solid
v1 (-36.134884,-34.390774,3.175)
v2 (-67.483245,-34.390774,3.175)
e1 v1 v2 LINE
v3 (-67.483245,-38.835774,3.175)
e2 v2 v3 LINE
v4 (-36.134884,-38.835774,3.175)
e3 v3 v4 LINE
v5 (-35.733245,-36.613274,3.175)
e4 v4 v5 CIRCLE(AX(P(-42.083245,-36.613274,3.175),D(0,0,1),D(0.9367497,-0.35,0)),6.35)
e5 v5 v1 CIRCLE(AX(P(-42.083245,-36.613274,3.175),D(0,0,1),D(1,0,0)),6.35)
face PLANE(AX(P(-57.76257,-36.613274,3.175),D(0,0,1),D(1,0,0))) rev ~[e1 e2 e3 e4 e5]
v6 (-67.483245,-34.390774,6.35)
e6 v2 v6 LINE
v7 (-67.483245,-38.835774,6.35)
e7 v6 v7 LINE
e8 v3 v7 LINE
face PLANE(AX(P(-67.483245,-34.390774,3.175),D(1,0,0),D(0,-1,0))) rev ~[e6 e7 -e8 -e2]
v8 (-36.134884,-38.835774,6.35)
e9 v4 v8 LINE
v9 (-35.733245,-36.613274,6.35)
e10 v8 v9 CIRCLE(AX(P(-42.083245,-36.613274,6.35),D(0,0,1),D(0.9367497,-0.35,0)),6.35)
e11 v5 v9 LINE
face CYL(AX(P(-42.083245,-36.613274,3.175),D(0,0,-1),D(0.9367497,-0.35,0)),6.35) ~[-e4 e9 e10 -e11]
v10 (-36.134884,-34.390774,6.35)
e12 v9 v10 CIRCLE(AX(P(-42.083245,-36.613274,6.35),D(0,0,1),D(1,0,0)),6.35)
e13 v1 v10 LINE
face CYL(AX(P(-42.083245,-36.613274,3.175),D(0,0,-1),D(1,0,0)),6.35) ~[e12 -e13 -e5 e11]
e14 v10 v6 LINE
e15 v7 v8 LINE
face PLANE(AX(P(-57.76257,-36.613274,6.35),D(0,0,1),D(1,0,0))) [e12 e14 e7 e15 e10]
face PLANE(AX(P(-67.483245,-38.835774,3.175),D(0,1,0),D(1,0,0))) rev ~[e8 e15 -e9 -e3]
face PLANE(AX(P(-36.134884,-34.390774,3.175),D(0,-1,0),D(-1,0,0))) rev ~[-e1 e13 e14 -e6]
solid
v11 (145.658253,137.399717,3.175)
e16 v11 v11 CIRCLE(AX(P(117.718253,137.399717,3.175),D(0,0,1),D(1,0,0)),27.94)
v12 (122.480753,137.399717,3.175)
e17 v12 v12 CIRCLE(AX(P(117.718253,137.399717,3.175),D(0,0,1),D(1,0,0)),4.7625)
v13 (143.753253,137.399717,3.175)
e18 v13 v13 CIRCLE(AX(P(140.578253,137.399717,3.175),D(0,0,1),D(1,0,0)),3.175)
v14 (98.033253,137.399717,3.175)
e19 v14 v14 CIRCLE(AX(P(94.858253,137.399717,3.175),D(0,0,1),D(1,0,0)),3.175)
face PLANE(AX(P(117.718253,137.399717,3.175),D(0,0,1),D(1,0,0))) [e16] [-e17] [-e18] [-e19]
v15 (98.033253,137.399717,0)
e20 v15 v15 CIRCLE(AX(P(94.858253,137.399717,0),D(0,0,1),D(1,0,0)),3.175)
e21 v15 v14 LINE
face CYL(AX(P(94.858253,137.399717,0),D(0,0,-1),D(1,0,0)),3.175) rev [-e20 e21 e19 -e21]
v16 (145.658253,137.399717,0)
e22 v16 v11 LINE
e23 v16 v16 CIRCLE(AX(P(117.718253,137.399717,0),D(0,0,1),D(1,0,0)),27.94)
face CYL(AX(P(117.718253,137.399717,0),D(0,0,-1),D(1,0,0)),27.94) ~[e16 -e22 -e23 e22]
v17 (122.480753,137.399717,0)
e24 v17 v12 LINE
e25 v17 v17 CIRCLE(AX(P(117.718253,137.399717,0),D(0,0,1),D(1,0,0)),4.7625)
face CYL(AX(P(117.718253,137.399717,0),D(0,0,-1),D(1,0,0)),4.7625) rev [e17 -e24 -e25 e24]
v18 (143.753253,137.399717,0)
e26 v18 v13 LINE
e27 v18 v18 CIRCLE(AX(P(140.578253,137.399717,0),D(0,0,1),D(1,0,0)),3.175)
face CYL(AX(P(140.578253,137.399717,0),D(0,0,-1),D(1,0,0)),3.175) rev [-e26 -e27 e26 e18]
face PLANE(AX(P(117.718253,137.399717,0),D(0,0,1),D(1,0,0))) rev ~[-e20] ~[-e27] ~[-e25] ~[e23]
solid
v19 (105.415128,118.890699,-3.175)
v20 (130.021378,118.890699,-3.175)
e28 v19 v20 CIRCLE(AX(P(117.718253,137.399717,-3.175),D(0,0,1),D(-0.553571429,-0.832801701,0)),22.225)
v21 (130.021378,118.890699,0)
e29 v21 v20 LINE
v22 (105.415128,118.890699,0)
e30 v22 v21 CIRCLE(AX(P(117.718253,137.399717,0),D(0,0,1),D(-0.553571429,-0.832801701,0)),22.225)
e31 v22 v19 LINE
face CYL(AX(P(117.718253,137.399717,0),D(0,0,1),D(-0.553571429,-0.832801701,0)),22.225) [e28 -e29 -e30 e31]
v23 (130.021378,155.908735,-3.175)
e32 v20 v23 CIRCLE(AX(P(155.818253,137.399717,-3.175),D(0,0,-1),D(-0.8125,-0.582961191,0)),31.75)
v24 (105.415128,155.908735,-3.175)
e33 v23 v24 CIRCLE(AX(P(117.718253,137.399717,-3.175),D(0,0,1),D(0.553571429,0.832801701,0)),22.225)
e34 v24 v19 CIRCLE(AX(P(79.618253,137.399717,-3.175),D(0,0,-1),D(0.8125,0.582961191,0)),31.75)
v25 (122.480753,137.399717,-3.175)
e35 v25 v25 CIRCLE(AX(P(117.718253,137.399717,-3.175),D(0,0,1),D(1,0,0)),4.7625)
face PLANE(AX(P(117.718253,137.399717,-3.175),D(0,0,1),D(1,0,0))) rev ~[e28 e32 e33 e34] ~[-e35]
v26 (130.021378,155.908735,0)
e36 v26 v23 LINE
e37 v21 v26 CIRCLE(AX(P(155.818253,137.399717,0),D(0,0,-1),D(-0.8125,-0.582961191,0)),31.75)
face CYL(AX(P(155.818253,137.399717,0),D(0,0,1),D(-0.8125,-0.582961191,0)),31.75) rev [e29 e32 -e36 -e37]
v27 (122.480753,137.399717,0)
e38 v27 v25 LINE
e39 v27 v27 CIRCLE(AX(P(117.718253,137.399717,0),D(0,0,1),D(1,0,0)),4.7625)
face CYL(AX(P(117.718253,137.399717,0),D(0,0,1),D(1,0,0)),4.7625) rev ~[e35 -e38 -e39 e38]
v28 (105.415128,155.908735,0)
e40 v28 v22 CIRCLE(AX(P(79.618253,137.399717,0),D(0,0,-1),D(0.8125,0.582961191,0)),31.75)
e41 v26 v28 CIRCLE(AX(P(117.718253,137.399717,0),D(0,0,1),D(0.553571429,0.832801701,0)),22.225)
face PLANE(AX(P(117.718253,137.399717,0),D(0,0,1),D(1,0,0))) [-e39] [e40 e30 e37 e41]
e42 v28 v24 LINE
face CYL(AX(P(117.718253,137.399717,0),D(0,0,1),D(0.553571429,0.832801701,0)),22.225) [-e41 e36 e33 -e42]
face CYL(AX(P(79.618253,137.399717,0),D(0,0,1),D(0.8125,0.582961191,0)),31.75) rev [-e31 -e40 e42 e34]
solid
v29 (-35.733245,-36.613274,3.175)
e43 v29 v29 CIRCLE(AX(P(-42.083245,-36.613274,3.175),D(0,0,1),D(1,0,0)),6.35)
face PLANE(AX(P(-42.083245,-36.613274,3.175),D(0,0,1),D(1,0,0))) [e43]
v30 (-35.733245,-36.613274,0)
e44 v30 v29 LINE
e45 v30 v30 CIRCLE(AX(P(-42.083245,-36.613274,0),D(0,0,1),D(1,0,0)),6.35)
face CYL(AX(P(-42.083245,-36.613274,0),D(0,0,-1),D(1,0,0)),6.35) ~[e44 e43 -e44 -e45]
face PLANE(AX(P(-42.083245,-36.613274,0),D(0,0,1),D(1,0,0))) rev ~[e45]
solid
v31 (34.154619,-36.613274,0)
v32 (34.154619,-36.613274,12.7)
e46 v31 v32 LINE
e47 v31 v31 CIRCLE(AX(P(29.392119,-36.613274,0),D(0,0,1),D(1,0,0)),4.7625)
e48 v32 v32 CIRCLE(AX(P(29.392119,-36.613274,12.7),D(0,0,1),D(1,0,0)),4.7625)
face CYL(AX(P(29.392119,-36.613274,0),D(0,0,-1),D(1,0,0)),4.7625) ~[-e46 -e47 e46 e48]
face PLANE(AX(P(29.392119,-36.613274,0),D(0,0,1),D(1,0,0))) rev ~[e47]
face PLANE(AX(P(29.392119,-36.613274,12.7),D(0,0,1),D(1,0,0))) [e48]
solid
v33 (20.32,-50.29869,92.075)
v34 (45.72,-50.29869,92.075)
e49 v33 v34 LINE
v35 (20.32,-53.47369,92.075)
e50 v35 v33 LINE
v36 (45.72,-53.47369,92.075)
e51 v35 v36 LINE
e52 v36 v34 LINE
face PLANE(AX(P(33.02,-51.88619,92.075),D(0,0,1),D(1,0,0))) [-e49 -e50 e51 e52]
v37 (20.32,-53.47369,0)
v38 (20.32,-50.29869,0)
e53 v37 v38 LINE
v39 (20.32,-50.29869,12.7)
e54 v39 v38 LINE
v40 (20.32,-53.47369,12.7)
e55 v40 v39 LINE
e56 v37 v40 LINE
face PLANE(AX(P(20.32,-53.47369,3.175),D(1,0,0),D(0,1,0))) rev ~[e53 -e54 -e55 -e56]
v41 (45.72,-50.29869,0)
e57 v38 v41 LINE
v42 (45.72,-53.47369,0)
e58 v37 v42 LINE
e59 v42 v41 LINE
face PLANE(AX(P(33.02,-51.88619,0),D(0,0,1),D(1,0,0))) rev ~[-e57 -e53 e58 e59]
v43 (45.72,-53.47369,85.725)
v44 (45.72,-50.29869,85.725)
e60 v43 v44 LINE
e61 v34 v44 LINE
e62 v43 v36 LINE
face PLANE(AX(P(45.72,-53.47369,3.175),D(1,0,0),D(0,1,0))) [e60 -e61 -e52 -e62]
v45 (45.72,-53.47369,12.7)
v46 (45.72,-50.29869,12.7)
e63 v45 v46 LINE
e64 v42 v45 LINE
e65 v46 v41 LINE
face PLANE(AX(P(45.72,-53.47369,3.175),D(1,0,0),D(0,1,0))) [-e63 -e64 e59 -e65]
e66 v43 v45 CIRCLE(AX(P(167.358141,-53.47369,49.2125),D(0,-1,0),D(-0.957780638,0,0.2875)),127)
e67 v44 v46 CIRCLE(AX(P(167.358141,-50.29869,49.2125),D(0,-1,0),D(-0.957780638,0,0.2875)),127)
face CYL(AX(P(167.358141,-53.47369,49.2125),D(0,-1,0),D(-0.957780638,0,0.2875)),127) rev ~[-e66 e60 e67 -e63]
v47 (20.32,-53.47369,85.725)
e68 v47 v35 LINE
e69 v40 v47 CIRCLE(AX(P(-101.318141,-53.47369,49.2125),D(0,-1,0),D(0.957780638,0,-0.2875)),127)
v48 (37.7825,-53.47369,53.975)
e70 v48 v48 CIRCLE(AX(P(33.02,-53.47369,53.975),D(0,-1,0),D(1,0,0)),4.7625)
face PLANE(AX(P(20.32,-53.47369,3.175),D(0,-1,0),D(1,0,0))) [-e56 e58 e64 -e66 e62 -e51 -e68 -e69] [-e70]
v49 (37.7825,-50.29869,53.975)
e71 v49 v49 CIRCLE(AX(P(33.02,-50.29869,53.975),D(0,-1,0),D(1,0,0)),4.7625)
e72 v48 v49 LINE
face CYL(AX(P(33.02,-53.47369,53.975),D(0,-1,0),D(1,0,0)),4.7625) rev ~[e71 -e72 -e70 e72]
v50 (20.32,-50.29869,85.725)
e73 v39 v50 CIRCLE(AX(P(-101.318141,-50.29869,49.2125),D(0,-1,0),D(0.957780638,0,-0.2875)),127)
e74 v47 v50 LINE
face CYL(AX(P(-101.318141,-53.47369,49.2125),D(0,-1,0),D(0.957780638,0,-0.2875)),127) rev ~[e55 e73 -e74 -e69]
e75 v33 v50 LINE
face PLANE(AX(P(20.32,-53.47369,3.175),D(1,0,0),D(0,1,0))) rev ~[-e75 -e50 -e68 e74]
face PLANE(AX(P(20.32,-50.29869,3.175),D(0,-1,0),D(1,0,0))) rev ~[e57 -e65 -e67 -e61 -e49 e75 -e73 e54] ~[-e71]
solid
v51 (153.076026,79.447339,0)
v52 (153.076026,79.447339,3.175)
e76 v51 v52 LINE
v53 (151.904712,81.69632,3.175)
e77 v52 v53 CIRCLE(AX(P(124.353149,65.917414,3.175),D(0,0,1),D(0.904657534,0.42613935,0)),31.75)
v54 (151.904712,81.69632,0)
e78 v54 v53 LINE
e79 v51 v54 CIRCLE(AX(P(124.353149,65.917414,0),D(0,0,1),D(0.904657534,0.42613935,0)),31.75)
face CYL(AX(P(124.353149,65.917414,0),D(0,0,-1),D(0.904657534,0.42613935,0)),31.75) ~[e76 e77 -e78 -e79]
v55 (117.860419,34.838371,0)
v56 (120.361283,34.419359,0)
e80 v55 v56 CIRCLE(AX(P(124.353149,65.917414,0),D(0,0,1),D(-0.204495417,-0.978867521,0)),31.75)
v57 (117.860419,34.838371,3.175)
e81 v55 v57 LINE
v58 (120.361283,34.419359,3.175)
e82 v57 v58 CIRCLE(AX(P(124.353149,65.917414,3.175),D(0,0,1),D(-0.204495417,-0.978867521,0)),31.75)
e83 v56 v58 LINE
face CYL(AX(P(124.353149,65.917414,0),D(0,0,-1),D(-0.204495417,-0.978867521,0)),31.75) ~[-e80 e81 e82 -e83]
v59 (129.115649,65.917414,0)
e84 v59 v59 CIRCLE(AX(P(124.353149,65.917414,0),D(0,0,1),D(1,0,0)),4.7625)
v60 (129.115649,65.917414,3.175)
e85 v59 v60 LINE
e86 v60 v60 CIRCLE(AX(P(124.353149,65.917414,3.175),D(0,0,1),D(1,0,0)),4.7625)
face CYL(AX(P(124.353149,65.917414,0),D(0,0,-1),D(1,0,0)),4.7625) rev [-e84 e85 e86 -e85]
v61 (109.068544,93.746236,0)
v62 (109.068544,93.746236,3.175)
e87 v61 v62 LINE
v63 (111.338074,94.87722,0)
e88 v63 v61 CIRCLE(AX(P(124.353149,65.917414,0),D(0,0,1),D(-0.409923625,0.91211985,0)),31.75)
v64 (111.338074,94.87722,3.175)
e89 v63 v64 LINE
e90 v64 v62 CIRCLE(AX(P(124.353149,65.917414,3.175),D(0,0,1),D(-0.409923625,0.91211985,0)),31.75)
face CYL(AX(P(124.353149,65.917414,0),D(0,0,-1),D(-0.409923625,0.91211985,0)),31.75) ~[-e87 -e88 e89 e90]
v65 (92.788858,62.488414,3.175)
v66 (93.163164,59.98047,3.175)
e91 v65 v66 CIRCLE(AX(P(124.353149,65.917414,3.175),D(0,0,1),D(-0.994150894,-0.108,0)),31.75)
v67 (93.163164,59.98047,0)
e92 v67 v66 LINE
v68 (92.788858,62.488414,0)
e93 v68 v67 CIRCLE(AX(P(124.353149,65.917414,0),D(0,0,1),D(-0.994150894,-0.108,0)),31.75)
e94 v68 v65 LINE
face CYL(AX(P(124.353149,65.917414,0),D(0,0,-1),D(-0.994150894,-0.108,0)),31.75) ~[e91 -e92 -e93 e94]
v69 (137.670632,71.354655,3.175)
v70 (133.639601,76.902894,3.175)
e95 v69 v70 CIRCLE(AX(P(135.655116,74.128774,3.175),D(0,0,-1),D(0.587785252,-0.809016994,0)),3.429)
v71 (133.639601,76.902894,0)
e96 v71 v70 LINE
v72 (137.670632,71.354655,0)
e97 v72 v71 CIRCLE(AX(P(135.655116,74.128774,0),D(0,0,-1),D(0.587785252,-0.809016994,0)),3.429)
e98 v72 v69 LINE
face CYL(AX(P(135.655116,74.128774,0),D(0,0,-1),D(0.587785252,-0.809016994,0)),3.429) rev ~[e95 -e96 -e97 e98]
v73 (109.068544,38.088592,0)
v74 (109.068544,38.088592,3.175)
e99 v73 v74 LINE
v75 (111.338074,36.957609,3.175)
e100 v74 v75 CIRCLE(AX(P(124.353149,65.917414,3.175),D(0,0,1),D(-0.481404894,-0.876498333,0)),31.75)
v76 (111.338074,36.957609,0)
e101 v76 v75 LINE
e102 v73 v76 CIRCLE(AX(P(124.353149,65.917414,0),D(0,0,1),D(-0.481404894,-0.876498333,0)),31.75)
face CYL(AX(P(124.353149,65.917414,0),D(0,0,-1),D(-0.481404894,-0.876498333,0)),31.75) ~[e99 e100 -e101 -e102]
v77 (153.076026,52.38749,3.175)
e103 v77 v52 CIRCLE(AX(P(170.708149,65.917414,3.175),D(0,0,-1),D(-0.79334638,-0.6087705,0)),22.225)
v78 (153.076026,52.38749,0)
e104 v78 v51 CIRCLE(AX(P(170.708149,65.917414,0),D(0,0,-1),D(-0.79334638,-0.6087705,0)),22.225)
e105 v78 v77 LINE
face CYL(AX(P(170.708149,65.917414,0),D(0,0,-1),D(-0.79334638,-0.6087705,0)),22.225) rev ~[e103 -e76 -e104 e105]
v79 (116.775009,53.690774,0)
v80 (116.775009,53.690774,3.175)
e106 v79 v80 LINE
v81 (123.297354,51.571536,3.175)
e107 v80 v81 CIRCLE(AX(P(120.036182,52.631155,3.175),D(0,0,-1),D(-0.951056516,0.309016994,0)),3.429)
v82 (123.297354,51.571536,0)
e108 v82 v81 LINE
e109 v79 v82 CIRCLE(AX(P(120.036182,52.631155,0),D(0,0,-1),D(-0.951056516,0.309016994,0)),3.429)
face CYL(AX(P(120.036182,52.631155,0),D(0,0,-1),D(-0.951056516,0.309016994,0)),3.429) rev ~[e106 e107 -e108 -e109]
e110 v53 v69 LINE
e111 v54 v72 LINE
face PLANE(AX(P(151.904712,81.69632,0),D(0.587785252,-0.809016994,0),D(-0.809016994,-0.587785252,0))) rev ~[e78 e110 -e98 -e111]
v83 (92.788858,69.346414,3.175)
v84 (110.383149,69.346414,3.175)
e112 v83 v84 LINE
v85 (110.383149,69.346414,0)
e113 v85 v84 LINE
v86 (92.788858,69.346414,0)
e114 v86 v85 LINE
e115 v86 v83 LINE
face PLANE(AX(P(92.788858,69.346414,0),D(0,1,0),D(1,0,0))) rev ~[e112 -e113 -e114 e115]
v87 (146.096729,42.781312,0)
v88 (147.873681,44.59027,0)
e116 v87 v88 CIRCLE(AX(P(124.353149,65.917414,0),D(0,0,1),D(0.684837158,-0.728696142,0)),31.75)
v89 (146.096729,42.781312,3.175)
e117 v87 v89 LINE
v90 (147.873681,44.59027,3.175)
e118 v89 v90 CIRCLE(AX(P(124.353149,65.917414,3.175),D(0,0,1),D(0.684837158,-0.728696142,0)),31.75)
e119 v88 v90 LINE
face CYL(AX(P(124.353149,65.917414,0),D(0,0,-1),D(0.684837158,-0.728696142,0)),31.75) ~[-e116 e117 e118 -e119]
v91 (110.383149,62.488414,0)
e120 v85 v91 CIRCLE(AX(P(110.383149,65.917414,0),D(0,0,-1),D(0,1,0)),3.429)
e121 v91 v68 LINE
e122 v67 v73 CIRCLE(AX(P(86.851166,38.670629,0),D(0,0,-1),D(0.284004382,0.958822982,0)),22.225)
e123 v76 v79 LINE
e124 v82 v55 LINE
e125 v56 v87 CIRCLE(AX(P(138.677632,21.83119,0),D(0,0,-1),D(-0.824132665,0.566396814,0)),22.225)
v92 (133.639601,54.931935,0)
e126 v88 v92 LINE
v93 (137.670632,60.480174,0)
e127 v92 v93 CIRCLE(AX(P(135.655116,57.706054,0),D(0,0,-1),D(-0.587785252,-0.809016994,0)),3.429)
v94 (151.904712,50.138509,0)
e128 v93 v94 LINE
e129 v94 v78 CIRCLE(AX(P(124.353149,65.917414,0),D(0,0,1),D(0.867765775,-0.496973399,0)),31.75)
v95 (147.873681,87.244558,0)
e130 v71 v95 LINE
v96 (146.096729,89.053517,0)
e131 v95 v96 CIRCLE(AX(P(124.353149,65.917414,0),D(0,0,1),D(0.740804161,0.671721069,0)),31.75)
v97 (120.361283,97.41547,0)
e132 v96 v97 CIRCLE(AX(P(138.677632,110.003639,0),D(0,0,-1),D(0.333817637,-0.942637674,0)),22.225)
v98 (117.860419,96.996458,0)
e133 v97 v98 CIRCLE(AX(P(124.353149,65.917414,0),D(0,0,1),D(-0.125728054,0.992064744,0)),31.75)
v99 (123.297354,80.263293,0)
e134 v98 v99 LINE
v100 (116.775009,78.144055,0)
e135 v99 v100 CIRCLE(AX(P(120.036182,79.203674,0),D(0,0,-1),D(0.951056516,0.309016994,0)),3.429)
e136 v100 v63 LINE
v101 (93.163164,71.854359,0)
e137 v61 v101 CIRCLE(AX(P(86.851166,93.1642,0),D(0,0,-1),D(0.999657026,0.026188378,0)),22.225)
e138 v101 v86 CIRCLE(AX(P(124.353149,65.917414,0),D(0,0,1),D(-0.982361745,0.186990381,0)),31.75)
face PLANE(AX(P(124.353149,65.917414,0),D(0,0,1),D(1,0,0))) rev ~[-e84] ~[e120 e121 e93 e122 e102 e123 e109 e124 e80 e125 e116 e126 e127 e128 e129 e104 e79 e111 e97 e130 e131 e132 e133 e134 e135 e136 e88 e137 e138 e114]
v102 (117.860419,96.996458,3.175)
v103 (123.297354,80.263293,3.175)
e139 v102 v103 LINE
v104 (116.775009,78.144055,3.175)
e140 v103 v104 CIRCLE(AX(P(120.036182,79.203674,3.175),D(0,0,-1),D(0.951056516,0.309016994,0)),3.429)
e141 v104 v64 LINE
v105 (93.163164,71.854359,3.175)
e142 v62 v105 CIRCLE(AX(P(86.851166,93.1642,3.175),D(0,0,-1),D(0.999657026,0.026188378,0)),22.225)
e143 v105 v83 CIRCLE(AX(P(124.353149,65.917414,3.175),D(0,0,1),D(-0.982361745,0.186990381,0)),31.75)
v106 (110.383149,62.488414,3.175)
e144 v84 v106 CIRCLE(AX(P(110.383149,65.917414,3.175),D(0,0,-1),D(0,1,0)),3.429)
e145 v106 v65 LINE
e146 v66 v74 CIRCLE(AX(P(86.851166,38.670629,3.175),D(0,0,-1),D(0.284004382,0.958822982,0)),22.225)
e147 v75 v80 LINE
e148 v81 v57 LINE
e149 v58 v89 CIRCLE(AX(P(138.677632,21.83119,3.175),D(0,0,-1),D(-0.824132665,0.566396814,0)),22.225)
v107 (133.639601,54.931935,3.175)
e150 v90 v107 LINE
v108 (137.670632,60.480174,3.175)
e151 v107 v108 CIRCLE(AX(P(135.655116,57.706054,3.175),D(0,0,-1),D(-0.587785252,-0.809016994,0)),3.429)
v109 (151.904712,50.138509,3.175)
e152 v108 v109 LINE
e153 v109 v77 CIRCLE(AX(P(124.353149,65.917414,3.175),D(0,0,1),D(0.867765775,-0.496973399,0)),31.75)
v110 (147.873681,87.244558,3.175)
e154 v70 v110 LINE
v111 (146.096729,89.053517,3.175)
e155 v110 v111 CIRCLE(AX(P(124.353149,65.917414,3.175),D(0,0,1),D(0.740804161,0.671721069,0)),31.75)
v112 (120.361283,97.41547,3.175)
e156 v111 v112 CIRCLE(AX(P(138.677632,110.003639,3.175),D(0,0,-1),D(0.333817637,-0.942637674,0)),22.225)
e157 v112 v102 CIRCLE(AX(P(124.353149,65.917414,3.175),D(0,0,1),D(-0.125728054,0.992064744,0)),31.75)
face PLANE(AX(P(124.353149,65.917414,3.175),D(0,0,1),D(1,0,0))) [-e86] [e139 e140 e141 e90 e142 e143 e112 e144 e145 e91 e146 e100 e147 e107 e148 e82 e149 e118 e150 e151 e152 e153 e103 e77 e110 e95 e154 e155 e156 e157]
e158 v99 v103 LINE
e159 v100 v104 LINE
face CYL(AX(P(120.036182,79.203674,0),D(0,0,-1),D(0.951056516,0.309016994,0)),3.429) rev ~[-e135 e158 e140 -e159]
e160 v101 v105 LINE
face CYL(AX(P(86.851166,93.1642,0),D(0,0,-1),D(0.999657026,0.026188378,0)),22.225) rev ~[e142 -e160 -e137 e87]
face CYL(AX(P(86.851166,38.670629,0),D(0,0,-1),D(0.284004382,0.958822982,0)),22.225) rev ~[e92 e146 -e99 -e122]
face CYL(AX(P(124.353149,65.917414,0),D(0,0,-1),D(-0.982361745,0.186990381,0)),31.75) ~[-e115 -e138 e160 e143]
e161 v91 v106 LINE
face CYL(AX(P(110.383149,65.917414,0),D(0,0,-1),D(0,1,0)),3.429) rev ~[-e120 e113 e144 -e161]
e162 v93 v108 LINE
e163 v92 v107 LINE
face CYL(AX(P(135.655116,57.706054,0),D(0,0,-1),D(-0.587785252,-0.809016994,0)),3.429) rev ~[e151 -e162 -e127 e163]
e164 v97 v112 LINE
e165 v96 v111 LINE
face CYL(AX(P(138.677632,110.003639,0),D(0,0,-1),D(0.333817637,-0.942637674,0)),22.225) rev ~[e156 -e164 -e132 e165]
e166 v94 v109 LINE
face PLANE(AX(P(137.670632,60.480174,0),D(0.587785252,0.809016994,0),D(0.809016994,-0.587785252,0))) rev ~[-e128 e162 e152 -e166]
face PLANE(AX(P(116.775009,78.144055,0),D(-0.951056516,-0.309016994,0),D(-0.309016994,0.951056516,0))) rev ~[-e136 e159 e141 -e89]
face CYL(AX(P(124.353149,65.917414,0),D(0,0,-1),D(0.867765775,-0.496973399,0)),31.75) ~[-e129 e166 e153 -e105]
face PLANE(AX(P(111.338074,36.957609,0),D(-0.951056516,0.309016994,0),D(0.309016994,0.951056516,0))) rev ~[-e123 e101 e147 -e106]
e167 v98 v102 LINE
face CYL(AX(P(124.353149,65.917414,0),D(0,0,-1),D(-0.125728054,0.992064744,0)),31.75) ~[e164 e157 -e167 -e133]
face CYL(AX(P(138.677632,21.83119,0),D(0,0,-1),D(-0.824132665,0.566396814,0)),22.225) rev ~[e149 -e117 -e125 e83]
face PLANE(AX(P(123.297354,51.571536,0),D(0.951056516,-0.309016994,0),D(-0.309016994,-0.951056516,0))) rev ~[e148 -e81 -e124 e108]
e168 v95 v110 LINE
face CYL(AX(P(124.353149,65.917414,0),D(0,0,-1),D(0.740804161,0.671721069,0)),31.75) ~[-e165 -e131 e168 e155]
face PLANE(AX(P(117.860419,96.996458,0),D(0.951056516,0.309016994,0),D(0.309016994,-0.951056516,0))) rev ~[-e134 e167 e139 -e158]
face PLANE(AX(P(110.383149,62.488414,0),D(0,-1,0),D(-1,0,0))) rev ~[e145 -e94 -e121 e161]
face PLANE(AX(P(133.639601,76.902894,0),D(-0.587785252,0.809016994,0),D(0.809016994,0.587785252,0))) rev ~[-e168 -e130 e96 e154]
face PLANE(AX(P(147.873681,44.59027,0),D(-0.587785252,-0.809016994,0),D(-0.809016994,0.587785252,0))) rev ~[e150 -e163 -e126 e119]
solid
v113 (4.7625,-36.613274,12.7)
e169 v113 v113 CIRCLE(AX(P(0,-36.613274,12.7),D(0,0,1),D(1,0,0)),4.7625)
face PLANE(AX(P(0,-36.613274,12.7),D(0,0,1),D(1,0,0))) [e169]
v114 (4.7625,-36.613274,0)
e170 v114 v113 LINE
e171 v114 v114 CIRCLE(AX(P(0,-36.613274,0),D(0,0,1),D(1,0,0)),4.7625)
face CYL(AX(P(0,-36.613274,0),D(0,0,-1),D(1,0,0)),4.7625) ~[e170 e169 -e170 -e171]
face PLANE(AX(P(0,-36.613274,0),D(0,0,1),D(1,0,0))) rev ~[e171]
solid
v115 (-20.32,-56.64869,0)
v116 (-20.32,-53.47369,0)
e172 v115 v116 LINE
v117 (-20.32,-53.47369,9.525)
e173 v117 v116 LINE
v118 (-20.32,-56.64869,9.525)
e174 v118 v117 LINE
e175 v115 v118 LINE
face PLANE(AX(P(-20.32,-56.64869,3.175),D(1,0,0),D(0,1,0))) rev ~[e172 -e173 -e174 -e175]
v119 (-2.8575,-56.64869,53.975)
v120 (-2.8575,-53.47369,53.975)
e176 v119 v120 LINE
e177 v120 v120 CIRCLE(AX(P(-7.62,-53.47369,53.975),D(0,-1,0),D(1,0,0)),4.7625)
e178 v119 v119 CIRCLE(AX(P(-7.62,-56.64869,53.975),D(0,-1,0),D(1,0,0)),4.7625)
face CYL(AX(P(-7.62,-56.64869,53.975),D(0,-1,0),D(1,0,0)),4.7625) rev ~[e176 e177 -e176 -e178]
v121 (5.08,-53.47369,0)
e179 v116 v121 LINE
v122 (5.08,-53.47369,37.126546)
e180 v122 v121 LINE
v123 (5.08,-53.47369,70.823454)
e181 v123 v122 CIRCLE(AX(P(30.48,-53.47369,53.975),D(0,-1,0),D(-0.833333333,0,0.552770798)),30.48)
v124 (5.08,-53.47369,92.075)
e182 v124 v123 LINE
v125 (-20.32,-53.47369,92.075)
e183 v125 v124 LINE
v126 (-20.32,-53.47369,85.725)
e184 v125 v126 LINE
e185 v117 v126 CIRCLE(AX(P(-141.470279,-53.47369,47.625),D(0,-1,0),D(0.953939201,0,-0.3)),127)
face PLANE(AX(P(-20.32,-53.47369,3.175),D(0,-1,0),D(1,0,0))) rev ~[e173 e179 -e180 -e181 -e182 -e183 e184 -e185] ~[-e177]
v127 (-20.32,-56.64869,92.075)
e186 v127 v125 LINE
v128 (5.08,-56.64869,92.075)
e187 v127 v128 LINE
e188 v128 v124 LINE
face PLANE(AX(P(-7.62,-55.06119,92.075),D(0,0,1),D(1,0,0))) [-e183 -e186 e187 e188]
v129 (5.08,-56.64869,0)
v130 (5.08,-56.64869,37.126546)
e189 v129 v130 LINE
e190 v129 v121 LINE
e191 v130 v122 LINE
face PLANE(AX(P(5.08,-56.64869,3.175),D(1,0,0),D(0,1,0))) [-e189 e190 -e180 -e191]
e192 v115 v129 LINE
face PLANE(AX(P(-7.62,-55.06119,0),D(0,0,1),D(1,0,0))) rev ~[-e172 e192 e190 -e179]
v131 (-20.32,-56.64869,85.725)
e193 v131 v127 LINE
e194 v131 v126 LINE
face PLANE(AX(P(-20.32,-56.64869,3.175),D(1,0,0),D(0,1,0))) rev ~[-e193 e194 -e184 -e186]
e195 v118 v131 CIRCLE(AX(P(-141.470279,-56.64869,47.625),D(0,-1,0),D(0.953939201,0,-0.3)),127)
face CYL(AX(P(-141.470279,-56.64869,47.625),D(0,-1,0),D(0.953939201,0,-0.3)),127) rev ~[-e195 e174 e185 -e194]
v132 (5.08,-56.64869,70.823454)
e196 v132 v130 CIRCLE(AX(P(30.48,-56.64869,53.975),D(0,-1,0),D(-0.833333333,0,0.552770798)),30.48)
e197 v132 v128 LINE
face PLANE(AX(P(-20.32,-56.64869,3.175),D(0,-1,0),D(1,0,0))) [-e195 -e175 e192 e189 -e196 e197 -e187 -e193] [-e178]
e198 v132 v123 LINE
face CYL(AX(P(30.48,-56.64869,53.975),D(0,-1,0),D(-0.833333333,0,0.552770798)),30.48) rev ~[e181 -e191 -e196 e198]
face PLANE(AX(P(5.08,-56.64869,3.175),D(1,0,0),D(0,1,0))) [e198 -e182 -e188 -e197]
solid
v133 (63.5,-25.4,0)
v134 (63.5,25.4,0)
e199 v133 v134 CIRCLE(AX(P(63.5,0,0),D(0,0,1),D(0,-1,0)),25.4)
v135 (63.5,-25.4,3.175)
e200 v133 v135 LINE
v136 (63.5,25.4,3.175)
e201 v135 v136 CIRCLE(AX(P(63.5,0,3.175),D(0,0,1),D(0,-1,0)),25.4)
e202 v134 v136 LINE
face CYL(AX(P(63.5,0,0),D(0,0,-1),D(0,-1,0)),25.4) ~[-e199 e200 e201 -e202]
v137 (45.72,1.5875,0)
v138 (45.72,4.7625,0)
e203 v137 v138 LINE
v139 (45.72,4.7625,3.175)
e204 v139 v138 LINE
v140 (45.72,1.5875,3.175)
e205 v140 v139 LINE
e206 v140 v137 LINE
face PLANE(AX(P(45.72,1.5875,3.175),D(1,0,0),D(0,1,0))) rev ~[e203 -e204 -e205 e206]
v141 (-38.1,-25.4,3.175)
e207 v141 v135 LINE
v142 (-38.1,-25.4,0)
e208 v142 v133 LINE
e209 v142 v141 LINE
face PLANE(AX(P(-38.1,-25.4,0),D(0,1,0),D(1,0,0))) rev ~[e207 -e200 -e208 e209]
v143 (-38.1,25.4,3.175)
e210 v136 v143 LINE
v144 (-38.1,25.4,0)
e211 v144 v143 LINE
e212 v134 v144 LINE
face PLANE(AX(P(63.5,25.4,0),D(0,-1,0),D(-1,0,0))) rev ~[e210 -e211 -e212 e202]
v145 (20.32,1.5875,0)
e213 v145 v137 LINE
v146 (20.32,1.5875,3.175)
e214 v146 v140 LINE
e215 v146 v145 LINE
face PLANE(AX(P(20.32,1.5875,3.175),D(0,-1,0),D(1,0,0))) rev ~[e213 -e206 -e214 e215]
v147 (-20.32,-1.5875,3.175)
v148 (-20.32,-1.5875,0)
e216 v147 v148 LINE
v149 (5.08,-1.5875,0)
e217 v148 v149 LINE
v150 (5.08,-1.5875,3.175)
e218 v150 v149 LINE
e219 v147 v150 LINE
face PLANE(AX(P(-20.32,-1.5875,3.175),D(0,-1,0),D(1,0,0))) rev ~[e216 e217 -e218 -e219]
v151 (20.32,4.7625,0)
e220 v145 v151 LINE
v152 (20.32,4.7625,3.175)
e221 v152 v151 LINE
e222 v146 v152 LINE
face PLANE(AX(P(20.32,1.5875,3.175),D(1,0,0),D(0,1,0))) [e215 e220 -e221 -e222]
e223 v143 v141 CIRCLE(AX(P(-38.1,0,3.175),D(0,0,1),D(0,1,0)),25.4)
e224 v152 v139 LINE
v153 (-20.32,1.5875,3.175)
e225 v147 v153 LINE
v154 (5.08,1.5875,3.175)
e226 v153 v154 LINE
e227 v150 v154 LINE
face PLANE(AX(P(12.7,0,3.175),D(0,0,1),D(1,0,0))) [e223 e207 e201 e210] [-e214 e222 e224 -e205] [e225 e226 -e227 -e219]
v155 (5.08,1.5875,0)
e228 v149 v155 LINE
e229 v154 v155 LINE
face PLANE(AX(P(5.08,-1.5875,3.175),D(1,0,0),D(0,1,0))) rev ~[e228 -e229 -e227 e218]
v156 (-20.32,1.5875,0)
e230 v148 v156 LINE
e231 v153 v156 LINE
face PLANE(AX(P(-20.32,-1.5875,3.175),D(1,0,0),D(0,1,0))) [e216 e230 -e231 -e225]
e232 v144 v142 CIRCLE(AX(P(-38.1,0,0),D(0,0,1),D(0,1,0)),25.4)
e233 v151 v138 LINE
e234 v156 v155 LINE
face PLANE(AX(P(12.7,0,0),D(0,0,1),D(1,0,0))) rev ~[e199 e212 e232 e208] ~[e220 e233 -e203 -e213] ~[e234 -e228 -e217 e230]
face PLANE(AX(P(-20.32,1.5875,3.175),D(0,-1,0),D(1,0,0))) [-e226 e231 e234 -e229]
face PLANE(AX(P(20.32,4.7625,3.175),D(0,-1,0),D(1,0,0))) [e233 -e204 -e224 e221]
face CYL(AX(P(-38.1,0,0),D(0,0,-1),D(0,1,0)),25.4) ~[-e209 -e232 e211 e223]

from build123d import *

# Parameters (mm, degrees)
F1_DEPTH  = 3.175
F2_R      = 4.7625
F4_DEPTH  = 3.175
F5_DEPTH  = 3.175
F2_R_2    = 27.94
F2_R_3    = 3.175
F6_DEPTH  = 3.175
F8_DEPTH  = 3.175
F7_W      = 25.4
F7_H      = 3.175
F9_DEPTH  = 3.175
F10_DEPTH = 3.175
F11_DEPTH = 88.9
F13_DEPTH = 3.175
F14_DEPTH = 3.175
F16_DEPTH = 3.175
F17_DEPTH = 3.175
F12_R     = 4.7625
F18_DEPTH = 3.175
F15_R     = 4.7625
F19_DEPTH = 3.175
F20_DEPTH = 3.175
F21_R     = 4.7625
F22_DEPTH = 12.7
F21_R_2   = 6.35
F23_DEPTH = 3.175
F25_DEPTH = 3.175
F26_DEPTH = 12.7


with BuildPart() as f1:
    # F0 (on Top) → F1 (new body)
    with BuildSketch(Plane.XY):
        with BuildLine():
            Line((63.5, 25.4), (-38.1, 25.4))
            ThreePointArc((-38.1, 25.4), (-63.5, 0), (-38.1, -25.4))
            Line((-38.1, -25.4), (63.5, -25.4))
            ThreePointArc((63.5, -25.4), (88.9, 0), (63.5, 25.4))
        make_face()
    extrude(amount=F1_DEPTH)

    # F7 (on face) → F9 (cut)
    with BuildSketch(Plane.XY.offset(3.175)):
        with Locations((-7.62, 0)):
            Rectangle(F7_W, F7_H)
    extrude(amount=-F9_DEPTH, mode=Mode.SUBTRACT)

    # F7 (on face) → F10 (cut)
    with BuildSketch(Plane.XY.offset(3.175)):
        with Locations((33.02, 3.175)):
            Rectangle(F7_W, F7_H)
    extrude(amount=-F10_DEPTH, mode=Mode.SUBTRACT)


with BuildPart() as f4:
    # F2 (on Top) → F4 (new body)
    with BuildSketch(Plane.XY):
        with BuildLine():
            ThreePointArc((120.3612832322, 34.4193587213), (131.809729009, 42.968420609), (146.0967287001, 42.7813118451))
            ThreePointArc((146.0967287001, 42.7813118451), (147.0032712022, 43.6680444399), (147.873681045, 44.5902703929))
            Line((147.873681045, 44.5902703929), (133.639600716, 54.9319350989))
            ThreePointArc((133.639600716, 54.9319350989), (132.8809970724, 59.7215700028), (137.6706319762, 60.4801736464))
            Line((137.6706319762, 60.4801736464), (151.9047123053, 50.1385089403))
            ThreePointArc((151.9047123053, 50.1385089403), (152.5128298738, 51.2513013853), (153.076025647, 52.3874899805))
            ThreePointArc((153.076025647, 52.3874899805), (148.4831489347, 65.9174143472), (153.076025647, 79.4473387139))
            ThreePointArc((153.076025647, 79.4473387139), (152.5128298738, 80.583527309), (151.9047123053, 81.6963197541))
            Line((151.9047123053, 81.6963197541), (137.6706319762, 71.354655048))
            ThreePointArc((137.6706319762, 71.354655048), (132.8809970724, 72.1132586916), (133.639600716, 76.9028935954))
            Line((133.639600716, 76.9028935954), (147.873681045, 87.2445583015))
            ThreePointArc((147.873681045, 87.2445583015), (147.0032712022, 88.1667842544), (146.0967287001, 89.0535168493))
            ThreePointArc((146.0967287001, 89.0535168493), (131.809729009, 88.8664080854), (120.3612832322, 97.4154699731))
            ThreePointArc((120.3612832322, 97.4154699731), (119.1066666, 97.2309405477), (117.8604194306, 96.9964581482))
            Line((117.8604194306, 96.9964581482), (123.2973543177, 80.2632931535))
            ThreePointArc((123.2973543177, 80.2632931535), (121.095800797, 75.9425010854), (116.7750087289, 78.1440546061))
            Line((116.7750087289, 78.1440546061), (111.3380738418, 94.8772196008))
            ThreePointArc((111.3380738418, 94.8772196008), (110.1920134063, 94.33439414), (109.0685435545, 93.7462364274))
            ThreePointArc((109.0685435545, 93.7462364274), (104.8315688605, 80.100672485), (93.1631635397, 71.8543589368))
            ThreePointArc((93.1631635397, 71.8543589368), (92.9509635914, 70.6041248848), (92.7888580509, 69.3464143472))
            Line((92.7888580509, 69.3464143472), (110.3831489347, 69.3464143472))
            ThreePointArc((110.3831489347, 69.3464143472), (113.8121489347, 65.9174143472), (110.3831489347, 62.4884143472))
            Line((110.3831489347, 62.4884143472), (92.7888580509, 62.4884143472))
            ThreePointArc((92.7888580509, 62.4884143472), (92.9509635914, 61.2307038095), (93.1631635397, 59.9804697575))
            ThreePointArc((93.1631635397, 59.9804697575), (104.8315688605, 51.7341562094), (109.0685435545, 38.088592267))
            ThreePointArc((109.0685435545, 38.088592267), (110.1920134063, 37.5004345544), (111.3380738418, 36.9576090936))
            Line((111.3380738418, 36.9576090936), (116.7750087289, 53.6907740882))
            ThreePointArc((116.7750087289, 53.6907740882), (121.095800797, 55.8923276089), (123.2973543177, 51.5715355408))
            Line((123.2973543177, 51.5715355408), (117.8604194306, 34.8383705461))
            ThreePointArc((117.8604194306, 34.8383705461), (119.1066666, 34.6038881466), (120.3612832322, 34.4193587213))
        make_face()
        with Locations((124.3531489347, 65.9174143472)):
            Circle(F2_R, mode=Mode.SUBTRACT)
    extrude(amount=F4_DEPTH)

    # F2 (on Top) → F8 (join)
    with BuildSketch(Plane.XY):
        with BuildLine():
            ThreePointArc((120.3612832322, 34.4193587213), (131.809729009, 42.968420609), (146.0967287001, 42.7813118451))
            ThreePointArc((146.0967287001, 42.7813118451), (147.0032712022, 43.6680444399), (147.873681045, 44.5902703929))
            Line((147.873681045, 44.5902703929), (133.639600716, 54.9319350989))
            ThreePointArc((133.639600716, 54.9319350989), (132.8809970724, 59.7215700028), (137.6706319762, 60.4801736464))
            Line((137.6706319762, 60.4801736464), (151.9047123053, 50.1385089403))
            ThreePointArc((151.9047123053, 50.1385089403), (152.5128298738, 51.2513013853), (153.076025647, 52.3874899805))
            ThreePointArc((153.076025647, 52.3874899805), (148.4831489347, 65.9174143472), (153.076025647, 79.4473387139))
            ThreePointArc((153.076025647, 79.4473387139), (152.5128298738, 80.583527309), (151.9047123053, 81.6963197541))
            Line((151.9047123053, 81.6963197541), (137.6706319762, 71.354655048))
            ThreePointArc((137.6706319762, 71.354655048), (132.8809970724, 72.1132586916), (133.639600716, 76.9028935954))
            Line((133.639600716, 76.9028935954), (147.873681045, 87.2445583015))
            ThreePointArc((147.873681045, 87.2445583015), (147.0032712022, 88.1667842544), (146.0967287001, 89.0535168493))
            ThreePointArc((146.0967287001, 89.0535168493), (131.809729009, 88.8664080854), (120.3612832322, 97.4154699731))
            ThreePointArc((120.3612832322, 97.4154699731), (119.1066666, 97.2309405477), (117.8604194306, 96.9964581482))
            Line((117.8604194306, 96.9964581482), (123.2973543177, 80.2632931535))
            ThreePointArc((123.2973543177, 80.2632931535), (121.095800797, 75.9425010854), (116.7750087289, 78.1440546061))
            Line((116.7750087289, 78.1440546061), (111.3380738418, 94.8772196008))
            ThreePointArc((111.3380738418, 94.8772196008), (110.1920134063, 94.33439414), (109.0685435545, 93.7462364274))
            ThreePointArc((109.0685435545, 93.7462364274), (104.8315688605, 80.100672485), (93.1631635397, 71.8543589368))
            ThreePointArc((93.1631635397, 71.8543589368), (92.9509635914, 70.6041248848), (92.7888580509, 69.3464143472))
            Line((92.7888580509, 69.3464143472), (110.3831489347, 69.3464143472))
            ThreePointArc((110.3831489347, 69.3464143472), (113.8121489347, 65.9174143472), (110.3831489347, 62.4884143472))
            Line((110.3831489347, 62.4884143472), (92.7888580509, 62.4884143472))
            ThreePointArc((92.7888580509, 62.4884143472), (92.9509635914, 61.2307038095), (93.1631635397, 59.9804697575))
            ThreePointArc((93.1631635397, 59.9804697575), (104.8315688605, 51.7341562094), (109.0685435545, 38.088592267))
            ThreePointArc((109.0685435545, 38.088592267), (110.1920134063, 37.5004345544), (111.3380738418, 36.9576090936))
            Line((111.3380738418, 36.9576090936), (116.7750087289, 53.6907740882))
            ThreePointArc((116.7750087289, 53.6907740882), (121.095800797, 55.8923276089), (123.2973543177, 51.5715355408))
            Line((123.2973543177, 51.5715355408), (117.8604194306, 34.8383705461))
            ThreePointArc((117.8604194306, 34.8383705461), (119.1066666, 34.6038881466), (120.3612832322, 34.4193587213))
        make_face()
        with Locations((124.3531489347, 65.9174143472)):
            Circle(F2_R, mode=Mode.SUBTRACT)
    extrude(amount=F8_DEPTH)


with BuildPart() as f5:
    # F2 (on Top) → F5 (new body)
    with BuildSketch(Plane.XY):
        with BuildLine():
            ThreePointArc((130.021378454, 118.8906994246), (124.068253454, 137.399717233), (130.021378454, 155.9087350415))
            ThreePointArc((130.021378454, 155.9087350415), (117.718253454, 159.624717233), (105.415128454, 155.9087350415))
            ThreePointArc((105.415128454, 155.9087350415), (111.368253454, 137.399717233), (105.415128454, 118.8906994246))
            ThreePointArc((105.415128454, 118.8906994246), (117.718253454, 115.174717233), (130.021378454, 118.8906994246))
        make_face()
        with Locations((117.718253454, 137.399717233)):
            Circle(F2_R, mode=Mode.SUBTRACT)
    extrude(amount=F5_DEPTH)

    # F2 (on Top) → F6 (join)
    with BuildSketch(Plane.XY):
        with Locations((117.718253454, 137.399717233)):
            Circle(F2_R_2)
        with Locations((94.858253454, 137.399717233)):
            Circle(F2_R_3, mode=Mode.SUBTRACT)
        with BuildLine():
            ThreePointArc((105.415128454, 155.9087350415), (117.718253454, 159.624717233), (130.021378454, 155.9087350415))
            ThreePointArc((130.021378454, 155.9087350415), (124.068253454, 137.399717233), (130.021378454, 118.8906994246))
            ThreePointArc((130.021378454, 118.8906994246), (117.718253454, 115.174717233), (105.415128454, 118.8906994246))
            ThreePointArc((105.415128454, 118.8906994246), (111.368253454, 137.399717233), (105.415128454, 155.9087350415))
        make_face(mode=Mode.SUBTRACT)
        with Locations((140.578253454, 137.399717233)):
            Circle(F2_R_3, mode=Mode.SUBTRACT)
    extrude(amount=F6_DEPTH)


with BuildPart() as f11:
    # F7 (on face) → F11 (new body)
    with BuildSketch(Plane.XY.offset(3.175)):
        with Locations((-7.62, -55.0611902535)):
            Rectangle(F7_W, F7_H)
    extrude(amount=F11_DEPTH)

    # F7 (on face) → F13 (join)
    with BuildSketch(Plane.XY.offset(3.175)):
        with Locations((-7.62, -55.0611902535)):
            Rectangle(F7_W, F7_H)
    extrude(amount=-F13_DEPTH)

    # F15 (on face) → F16 (cut)
    with BuildSketch(Plane.XZ.offset(56.6486902535)):
        with BuildLine():
            Line((5.08, 37.126546065), (5.08, 70.823453935))
            ThreePointArc((5.08, 70.823453935), (0, 53.975), (5.08, 37.126546065))
        make_face()
        with BuildLine():
            ThreePointArc((-20.32, 9.525), (-14.47027858, 47.625), (-20.32, 85.725))
            Line((-20.32, 85.725), (-20.32, 9.525))
        make_face()
    extrude(amount=-F16_DEPTH, mode=Mode.SUBTRACT)

    # F15 (on face) → F19 (cut)
    with BuildSketch(Plane.XZ.offset(56.6486902535)):
        with Locations((-7.62, 53.975)):
            Circle(F15_R)
    extrude(amount=-F19_DEPTH, mode=Mode.SUBTRACT)


with BuildPart() as f11b:
    # F7 (on face) → F11, piece 2 (new body)
    with BuildSketch(Plane.XY.offset(3.175)):
        with Locations((33.02, -51.8861902535)):
            Rectangle(F7_W, F7_H)
    extrude(amount=F11_DEPTH)

    # F7 (on face) → F14 (join)
    with BuildSketch(Plane.XY.offset(3.175)):
        with Locations((33.02, -51.8861902535)):
            Rectangle(F7_W, F7_H)
    extrude(amount=-F14_DEPTH)

    # F12 (on face) → F17 (cut)
    with BuildSketch(Plane.XZ.offset(53.4736902535)):
        with BuildLine():
            Line((20.32, 85.725), (20.32, 12.7))
            ThreePointArc((20.32, 12.7), (25.681859009, 49.2125), (20.32, 85.725))
        make_face()
        with BuildLine():
            ThreePointArc((45.72, 85.725), (40.358140991, 49.2125), (45.72, 12.7))
            Line((45.72, 12.7), (45.72, 85.725))
        make_face()
    extrude(amount=-F17_DEPTH, mode=Mode.SUBTRACT)

    # F12 (on face) → F18 (cut)
    with BuildSketch(Plane.XZ.offset(53.4736902535)):
        with Locations((33.02, 53.975)):
            Circle(F12_R)
    extrude(amount=-F18_DEPTH, mode=Mode.SUBTRACT)


with BuildPart() as f20:
    # F2 (on Top) → F20 (new body)
    with BuildSketch(Plane.XY):
        with BuildLine():
            ThreePointArc((130.021378454, 118.8906994246), (124.068253454, 137.399717233), (130.021378454, 155.9087350415))
            ThreePointArc((130.021378454, 155.9087350415), (117.718253454, 159.624717233), (105.415128454, 155.9087350415))
            ThreePointArc((105.415128454, 155.9087350415), (111.368253454, 137.399717233), (105.415128454, 118.8906994246))
            ThreePointArc((105.415128454, 118.8906994246), (117.718253454, 115.174717233), (130.021378454, 118.8906994246))
        make_face()
        with Locations((117.718253454, 137.399717233)):
            Circle(F2_R, mode=Mode.SUBTRACT)
    extrude(amount=-F20_DEPTH)


with BuildPart() as f22:
    # F21 (on Top) → F22 (new body)
    with BuildSketch(Plane.XY):
        with Locations((29.3921194971, -36.6132743657)):
            Circle(F21_R)
    extrude(amount=F22_DEPTH)


with BuildPart() as f23:
    # F21 (on Top) → F23 (new body)
    with BuildSketch(Plane.XY):
        with Locations((-42.0832447708, -36.6132743657)):
            Circle(F21_R_2)
    extrude(amount=F23_DEPTH)


with BuildPart() as f25:
    # F24 (on face) → F25 (new body)
    with BuildSketch(Plane.XY.offset(3.175)):
        with BuildLine():
            Line((-67.4832447708, -34.3907743657), (-67.4832447708, -38.8357743657))
            Line((-67.4832447708, -38.8357743657), (-48.0316053642, -38.8357743657))
            ThreePointArc((-48.0316053642, -38.8357743657), (-48.4332447708, -36.6132743657), (-48.0316053642, -34.3907743657))
            Line((-48.0316053642, -34.3907743657), (-67.4832447708, -34.3907743657))
        make_face()
        with BuildLine():
            ThreePointArc((-48.0316053642, -34.3907743657), (-48.4332447708, -36.6132743657), (-48.0316053642, -38.8357743657))
            Line((-48.0316053642, -38.8357743657), (-36.1348841773, -38.8357743657))
            ThreePointArc((-36.1348841773, -38.8357743657), (-35.8344612984, -37.7425241678), (-35.7332447708, -36.6132743657))
            ThreePointArc((-35.7332447708, -36.6132743657), (-35.8344612984, -35.4840245635), (-36.1348841773, -34.3907743657))
            Line((-36.1348841773, -34.3907743657), (-48.0316053642, -34.3907743657))
        make_face()
    extrude(amount=F25_DEPTH)


with BuildPart() as f26:
    # F21 (on Top) → F26 (new body)
    with BuildSketch(Plane.XY):
        with Locations((0, -36.6132743657)):
            Circle(F21_R)
    extrude(amount=F26_DEPTH)


solid = Compound([f1.part, f4.part, f5.part, f11.part, f11b.part, f20.part, f22.part, f23.part, f25.part, f26.part])
